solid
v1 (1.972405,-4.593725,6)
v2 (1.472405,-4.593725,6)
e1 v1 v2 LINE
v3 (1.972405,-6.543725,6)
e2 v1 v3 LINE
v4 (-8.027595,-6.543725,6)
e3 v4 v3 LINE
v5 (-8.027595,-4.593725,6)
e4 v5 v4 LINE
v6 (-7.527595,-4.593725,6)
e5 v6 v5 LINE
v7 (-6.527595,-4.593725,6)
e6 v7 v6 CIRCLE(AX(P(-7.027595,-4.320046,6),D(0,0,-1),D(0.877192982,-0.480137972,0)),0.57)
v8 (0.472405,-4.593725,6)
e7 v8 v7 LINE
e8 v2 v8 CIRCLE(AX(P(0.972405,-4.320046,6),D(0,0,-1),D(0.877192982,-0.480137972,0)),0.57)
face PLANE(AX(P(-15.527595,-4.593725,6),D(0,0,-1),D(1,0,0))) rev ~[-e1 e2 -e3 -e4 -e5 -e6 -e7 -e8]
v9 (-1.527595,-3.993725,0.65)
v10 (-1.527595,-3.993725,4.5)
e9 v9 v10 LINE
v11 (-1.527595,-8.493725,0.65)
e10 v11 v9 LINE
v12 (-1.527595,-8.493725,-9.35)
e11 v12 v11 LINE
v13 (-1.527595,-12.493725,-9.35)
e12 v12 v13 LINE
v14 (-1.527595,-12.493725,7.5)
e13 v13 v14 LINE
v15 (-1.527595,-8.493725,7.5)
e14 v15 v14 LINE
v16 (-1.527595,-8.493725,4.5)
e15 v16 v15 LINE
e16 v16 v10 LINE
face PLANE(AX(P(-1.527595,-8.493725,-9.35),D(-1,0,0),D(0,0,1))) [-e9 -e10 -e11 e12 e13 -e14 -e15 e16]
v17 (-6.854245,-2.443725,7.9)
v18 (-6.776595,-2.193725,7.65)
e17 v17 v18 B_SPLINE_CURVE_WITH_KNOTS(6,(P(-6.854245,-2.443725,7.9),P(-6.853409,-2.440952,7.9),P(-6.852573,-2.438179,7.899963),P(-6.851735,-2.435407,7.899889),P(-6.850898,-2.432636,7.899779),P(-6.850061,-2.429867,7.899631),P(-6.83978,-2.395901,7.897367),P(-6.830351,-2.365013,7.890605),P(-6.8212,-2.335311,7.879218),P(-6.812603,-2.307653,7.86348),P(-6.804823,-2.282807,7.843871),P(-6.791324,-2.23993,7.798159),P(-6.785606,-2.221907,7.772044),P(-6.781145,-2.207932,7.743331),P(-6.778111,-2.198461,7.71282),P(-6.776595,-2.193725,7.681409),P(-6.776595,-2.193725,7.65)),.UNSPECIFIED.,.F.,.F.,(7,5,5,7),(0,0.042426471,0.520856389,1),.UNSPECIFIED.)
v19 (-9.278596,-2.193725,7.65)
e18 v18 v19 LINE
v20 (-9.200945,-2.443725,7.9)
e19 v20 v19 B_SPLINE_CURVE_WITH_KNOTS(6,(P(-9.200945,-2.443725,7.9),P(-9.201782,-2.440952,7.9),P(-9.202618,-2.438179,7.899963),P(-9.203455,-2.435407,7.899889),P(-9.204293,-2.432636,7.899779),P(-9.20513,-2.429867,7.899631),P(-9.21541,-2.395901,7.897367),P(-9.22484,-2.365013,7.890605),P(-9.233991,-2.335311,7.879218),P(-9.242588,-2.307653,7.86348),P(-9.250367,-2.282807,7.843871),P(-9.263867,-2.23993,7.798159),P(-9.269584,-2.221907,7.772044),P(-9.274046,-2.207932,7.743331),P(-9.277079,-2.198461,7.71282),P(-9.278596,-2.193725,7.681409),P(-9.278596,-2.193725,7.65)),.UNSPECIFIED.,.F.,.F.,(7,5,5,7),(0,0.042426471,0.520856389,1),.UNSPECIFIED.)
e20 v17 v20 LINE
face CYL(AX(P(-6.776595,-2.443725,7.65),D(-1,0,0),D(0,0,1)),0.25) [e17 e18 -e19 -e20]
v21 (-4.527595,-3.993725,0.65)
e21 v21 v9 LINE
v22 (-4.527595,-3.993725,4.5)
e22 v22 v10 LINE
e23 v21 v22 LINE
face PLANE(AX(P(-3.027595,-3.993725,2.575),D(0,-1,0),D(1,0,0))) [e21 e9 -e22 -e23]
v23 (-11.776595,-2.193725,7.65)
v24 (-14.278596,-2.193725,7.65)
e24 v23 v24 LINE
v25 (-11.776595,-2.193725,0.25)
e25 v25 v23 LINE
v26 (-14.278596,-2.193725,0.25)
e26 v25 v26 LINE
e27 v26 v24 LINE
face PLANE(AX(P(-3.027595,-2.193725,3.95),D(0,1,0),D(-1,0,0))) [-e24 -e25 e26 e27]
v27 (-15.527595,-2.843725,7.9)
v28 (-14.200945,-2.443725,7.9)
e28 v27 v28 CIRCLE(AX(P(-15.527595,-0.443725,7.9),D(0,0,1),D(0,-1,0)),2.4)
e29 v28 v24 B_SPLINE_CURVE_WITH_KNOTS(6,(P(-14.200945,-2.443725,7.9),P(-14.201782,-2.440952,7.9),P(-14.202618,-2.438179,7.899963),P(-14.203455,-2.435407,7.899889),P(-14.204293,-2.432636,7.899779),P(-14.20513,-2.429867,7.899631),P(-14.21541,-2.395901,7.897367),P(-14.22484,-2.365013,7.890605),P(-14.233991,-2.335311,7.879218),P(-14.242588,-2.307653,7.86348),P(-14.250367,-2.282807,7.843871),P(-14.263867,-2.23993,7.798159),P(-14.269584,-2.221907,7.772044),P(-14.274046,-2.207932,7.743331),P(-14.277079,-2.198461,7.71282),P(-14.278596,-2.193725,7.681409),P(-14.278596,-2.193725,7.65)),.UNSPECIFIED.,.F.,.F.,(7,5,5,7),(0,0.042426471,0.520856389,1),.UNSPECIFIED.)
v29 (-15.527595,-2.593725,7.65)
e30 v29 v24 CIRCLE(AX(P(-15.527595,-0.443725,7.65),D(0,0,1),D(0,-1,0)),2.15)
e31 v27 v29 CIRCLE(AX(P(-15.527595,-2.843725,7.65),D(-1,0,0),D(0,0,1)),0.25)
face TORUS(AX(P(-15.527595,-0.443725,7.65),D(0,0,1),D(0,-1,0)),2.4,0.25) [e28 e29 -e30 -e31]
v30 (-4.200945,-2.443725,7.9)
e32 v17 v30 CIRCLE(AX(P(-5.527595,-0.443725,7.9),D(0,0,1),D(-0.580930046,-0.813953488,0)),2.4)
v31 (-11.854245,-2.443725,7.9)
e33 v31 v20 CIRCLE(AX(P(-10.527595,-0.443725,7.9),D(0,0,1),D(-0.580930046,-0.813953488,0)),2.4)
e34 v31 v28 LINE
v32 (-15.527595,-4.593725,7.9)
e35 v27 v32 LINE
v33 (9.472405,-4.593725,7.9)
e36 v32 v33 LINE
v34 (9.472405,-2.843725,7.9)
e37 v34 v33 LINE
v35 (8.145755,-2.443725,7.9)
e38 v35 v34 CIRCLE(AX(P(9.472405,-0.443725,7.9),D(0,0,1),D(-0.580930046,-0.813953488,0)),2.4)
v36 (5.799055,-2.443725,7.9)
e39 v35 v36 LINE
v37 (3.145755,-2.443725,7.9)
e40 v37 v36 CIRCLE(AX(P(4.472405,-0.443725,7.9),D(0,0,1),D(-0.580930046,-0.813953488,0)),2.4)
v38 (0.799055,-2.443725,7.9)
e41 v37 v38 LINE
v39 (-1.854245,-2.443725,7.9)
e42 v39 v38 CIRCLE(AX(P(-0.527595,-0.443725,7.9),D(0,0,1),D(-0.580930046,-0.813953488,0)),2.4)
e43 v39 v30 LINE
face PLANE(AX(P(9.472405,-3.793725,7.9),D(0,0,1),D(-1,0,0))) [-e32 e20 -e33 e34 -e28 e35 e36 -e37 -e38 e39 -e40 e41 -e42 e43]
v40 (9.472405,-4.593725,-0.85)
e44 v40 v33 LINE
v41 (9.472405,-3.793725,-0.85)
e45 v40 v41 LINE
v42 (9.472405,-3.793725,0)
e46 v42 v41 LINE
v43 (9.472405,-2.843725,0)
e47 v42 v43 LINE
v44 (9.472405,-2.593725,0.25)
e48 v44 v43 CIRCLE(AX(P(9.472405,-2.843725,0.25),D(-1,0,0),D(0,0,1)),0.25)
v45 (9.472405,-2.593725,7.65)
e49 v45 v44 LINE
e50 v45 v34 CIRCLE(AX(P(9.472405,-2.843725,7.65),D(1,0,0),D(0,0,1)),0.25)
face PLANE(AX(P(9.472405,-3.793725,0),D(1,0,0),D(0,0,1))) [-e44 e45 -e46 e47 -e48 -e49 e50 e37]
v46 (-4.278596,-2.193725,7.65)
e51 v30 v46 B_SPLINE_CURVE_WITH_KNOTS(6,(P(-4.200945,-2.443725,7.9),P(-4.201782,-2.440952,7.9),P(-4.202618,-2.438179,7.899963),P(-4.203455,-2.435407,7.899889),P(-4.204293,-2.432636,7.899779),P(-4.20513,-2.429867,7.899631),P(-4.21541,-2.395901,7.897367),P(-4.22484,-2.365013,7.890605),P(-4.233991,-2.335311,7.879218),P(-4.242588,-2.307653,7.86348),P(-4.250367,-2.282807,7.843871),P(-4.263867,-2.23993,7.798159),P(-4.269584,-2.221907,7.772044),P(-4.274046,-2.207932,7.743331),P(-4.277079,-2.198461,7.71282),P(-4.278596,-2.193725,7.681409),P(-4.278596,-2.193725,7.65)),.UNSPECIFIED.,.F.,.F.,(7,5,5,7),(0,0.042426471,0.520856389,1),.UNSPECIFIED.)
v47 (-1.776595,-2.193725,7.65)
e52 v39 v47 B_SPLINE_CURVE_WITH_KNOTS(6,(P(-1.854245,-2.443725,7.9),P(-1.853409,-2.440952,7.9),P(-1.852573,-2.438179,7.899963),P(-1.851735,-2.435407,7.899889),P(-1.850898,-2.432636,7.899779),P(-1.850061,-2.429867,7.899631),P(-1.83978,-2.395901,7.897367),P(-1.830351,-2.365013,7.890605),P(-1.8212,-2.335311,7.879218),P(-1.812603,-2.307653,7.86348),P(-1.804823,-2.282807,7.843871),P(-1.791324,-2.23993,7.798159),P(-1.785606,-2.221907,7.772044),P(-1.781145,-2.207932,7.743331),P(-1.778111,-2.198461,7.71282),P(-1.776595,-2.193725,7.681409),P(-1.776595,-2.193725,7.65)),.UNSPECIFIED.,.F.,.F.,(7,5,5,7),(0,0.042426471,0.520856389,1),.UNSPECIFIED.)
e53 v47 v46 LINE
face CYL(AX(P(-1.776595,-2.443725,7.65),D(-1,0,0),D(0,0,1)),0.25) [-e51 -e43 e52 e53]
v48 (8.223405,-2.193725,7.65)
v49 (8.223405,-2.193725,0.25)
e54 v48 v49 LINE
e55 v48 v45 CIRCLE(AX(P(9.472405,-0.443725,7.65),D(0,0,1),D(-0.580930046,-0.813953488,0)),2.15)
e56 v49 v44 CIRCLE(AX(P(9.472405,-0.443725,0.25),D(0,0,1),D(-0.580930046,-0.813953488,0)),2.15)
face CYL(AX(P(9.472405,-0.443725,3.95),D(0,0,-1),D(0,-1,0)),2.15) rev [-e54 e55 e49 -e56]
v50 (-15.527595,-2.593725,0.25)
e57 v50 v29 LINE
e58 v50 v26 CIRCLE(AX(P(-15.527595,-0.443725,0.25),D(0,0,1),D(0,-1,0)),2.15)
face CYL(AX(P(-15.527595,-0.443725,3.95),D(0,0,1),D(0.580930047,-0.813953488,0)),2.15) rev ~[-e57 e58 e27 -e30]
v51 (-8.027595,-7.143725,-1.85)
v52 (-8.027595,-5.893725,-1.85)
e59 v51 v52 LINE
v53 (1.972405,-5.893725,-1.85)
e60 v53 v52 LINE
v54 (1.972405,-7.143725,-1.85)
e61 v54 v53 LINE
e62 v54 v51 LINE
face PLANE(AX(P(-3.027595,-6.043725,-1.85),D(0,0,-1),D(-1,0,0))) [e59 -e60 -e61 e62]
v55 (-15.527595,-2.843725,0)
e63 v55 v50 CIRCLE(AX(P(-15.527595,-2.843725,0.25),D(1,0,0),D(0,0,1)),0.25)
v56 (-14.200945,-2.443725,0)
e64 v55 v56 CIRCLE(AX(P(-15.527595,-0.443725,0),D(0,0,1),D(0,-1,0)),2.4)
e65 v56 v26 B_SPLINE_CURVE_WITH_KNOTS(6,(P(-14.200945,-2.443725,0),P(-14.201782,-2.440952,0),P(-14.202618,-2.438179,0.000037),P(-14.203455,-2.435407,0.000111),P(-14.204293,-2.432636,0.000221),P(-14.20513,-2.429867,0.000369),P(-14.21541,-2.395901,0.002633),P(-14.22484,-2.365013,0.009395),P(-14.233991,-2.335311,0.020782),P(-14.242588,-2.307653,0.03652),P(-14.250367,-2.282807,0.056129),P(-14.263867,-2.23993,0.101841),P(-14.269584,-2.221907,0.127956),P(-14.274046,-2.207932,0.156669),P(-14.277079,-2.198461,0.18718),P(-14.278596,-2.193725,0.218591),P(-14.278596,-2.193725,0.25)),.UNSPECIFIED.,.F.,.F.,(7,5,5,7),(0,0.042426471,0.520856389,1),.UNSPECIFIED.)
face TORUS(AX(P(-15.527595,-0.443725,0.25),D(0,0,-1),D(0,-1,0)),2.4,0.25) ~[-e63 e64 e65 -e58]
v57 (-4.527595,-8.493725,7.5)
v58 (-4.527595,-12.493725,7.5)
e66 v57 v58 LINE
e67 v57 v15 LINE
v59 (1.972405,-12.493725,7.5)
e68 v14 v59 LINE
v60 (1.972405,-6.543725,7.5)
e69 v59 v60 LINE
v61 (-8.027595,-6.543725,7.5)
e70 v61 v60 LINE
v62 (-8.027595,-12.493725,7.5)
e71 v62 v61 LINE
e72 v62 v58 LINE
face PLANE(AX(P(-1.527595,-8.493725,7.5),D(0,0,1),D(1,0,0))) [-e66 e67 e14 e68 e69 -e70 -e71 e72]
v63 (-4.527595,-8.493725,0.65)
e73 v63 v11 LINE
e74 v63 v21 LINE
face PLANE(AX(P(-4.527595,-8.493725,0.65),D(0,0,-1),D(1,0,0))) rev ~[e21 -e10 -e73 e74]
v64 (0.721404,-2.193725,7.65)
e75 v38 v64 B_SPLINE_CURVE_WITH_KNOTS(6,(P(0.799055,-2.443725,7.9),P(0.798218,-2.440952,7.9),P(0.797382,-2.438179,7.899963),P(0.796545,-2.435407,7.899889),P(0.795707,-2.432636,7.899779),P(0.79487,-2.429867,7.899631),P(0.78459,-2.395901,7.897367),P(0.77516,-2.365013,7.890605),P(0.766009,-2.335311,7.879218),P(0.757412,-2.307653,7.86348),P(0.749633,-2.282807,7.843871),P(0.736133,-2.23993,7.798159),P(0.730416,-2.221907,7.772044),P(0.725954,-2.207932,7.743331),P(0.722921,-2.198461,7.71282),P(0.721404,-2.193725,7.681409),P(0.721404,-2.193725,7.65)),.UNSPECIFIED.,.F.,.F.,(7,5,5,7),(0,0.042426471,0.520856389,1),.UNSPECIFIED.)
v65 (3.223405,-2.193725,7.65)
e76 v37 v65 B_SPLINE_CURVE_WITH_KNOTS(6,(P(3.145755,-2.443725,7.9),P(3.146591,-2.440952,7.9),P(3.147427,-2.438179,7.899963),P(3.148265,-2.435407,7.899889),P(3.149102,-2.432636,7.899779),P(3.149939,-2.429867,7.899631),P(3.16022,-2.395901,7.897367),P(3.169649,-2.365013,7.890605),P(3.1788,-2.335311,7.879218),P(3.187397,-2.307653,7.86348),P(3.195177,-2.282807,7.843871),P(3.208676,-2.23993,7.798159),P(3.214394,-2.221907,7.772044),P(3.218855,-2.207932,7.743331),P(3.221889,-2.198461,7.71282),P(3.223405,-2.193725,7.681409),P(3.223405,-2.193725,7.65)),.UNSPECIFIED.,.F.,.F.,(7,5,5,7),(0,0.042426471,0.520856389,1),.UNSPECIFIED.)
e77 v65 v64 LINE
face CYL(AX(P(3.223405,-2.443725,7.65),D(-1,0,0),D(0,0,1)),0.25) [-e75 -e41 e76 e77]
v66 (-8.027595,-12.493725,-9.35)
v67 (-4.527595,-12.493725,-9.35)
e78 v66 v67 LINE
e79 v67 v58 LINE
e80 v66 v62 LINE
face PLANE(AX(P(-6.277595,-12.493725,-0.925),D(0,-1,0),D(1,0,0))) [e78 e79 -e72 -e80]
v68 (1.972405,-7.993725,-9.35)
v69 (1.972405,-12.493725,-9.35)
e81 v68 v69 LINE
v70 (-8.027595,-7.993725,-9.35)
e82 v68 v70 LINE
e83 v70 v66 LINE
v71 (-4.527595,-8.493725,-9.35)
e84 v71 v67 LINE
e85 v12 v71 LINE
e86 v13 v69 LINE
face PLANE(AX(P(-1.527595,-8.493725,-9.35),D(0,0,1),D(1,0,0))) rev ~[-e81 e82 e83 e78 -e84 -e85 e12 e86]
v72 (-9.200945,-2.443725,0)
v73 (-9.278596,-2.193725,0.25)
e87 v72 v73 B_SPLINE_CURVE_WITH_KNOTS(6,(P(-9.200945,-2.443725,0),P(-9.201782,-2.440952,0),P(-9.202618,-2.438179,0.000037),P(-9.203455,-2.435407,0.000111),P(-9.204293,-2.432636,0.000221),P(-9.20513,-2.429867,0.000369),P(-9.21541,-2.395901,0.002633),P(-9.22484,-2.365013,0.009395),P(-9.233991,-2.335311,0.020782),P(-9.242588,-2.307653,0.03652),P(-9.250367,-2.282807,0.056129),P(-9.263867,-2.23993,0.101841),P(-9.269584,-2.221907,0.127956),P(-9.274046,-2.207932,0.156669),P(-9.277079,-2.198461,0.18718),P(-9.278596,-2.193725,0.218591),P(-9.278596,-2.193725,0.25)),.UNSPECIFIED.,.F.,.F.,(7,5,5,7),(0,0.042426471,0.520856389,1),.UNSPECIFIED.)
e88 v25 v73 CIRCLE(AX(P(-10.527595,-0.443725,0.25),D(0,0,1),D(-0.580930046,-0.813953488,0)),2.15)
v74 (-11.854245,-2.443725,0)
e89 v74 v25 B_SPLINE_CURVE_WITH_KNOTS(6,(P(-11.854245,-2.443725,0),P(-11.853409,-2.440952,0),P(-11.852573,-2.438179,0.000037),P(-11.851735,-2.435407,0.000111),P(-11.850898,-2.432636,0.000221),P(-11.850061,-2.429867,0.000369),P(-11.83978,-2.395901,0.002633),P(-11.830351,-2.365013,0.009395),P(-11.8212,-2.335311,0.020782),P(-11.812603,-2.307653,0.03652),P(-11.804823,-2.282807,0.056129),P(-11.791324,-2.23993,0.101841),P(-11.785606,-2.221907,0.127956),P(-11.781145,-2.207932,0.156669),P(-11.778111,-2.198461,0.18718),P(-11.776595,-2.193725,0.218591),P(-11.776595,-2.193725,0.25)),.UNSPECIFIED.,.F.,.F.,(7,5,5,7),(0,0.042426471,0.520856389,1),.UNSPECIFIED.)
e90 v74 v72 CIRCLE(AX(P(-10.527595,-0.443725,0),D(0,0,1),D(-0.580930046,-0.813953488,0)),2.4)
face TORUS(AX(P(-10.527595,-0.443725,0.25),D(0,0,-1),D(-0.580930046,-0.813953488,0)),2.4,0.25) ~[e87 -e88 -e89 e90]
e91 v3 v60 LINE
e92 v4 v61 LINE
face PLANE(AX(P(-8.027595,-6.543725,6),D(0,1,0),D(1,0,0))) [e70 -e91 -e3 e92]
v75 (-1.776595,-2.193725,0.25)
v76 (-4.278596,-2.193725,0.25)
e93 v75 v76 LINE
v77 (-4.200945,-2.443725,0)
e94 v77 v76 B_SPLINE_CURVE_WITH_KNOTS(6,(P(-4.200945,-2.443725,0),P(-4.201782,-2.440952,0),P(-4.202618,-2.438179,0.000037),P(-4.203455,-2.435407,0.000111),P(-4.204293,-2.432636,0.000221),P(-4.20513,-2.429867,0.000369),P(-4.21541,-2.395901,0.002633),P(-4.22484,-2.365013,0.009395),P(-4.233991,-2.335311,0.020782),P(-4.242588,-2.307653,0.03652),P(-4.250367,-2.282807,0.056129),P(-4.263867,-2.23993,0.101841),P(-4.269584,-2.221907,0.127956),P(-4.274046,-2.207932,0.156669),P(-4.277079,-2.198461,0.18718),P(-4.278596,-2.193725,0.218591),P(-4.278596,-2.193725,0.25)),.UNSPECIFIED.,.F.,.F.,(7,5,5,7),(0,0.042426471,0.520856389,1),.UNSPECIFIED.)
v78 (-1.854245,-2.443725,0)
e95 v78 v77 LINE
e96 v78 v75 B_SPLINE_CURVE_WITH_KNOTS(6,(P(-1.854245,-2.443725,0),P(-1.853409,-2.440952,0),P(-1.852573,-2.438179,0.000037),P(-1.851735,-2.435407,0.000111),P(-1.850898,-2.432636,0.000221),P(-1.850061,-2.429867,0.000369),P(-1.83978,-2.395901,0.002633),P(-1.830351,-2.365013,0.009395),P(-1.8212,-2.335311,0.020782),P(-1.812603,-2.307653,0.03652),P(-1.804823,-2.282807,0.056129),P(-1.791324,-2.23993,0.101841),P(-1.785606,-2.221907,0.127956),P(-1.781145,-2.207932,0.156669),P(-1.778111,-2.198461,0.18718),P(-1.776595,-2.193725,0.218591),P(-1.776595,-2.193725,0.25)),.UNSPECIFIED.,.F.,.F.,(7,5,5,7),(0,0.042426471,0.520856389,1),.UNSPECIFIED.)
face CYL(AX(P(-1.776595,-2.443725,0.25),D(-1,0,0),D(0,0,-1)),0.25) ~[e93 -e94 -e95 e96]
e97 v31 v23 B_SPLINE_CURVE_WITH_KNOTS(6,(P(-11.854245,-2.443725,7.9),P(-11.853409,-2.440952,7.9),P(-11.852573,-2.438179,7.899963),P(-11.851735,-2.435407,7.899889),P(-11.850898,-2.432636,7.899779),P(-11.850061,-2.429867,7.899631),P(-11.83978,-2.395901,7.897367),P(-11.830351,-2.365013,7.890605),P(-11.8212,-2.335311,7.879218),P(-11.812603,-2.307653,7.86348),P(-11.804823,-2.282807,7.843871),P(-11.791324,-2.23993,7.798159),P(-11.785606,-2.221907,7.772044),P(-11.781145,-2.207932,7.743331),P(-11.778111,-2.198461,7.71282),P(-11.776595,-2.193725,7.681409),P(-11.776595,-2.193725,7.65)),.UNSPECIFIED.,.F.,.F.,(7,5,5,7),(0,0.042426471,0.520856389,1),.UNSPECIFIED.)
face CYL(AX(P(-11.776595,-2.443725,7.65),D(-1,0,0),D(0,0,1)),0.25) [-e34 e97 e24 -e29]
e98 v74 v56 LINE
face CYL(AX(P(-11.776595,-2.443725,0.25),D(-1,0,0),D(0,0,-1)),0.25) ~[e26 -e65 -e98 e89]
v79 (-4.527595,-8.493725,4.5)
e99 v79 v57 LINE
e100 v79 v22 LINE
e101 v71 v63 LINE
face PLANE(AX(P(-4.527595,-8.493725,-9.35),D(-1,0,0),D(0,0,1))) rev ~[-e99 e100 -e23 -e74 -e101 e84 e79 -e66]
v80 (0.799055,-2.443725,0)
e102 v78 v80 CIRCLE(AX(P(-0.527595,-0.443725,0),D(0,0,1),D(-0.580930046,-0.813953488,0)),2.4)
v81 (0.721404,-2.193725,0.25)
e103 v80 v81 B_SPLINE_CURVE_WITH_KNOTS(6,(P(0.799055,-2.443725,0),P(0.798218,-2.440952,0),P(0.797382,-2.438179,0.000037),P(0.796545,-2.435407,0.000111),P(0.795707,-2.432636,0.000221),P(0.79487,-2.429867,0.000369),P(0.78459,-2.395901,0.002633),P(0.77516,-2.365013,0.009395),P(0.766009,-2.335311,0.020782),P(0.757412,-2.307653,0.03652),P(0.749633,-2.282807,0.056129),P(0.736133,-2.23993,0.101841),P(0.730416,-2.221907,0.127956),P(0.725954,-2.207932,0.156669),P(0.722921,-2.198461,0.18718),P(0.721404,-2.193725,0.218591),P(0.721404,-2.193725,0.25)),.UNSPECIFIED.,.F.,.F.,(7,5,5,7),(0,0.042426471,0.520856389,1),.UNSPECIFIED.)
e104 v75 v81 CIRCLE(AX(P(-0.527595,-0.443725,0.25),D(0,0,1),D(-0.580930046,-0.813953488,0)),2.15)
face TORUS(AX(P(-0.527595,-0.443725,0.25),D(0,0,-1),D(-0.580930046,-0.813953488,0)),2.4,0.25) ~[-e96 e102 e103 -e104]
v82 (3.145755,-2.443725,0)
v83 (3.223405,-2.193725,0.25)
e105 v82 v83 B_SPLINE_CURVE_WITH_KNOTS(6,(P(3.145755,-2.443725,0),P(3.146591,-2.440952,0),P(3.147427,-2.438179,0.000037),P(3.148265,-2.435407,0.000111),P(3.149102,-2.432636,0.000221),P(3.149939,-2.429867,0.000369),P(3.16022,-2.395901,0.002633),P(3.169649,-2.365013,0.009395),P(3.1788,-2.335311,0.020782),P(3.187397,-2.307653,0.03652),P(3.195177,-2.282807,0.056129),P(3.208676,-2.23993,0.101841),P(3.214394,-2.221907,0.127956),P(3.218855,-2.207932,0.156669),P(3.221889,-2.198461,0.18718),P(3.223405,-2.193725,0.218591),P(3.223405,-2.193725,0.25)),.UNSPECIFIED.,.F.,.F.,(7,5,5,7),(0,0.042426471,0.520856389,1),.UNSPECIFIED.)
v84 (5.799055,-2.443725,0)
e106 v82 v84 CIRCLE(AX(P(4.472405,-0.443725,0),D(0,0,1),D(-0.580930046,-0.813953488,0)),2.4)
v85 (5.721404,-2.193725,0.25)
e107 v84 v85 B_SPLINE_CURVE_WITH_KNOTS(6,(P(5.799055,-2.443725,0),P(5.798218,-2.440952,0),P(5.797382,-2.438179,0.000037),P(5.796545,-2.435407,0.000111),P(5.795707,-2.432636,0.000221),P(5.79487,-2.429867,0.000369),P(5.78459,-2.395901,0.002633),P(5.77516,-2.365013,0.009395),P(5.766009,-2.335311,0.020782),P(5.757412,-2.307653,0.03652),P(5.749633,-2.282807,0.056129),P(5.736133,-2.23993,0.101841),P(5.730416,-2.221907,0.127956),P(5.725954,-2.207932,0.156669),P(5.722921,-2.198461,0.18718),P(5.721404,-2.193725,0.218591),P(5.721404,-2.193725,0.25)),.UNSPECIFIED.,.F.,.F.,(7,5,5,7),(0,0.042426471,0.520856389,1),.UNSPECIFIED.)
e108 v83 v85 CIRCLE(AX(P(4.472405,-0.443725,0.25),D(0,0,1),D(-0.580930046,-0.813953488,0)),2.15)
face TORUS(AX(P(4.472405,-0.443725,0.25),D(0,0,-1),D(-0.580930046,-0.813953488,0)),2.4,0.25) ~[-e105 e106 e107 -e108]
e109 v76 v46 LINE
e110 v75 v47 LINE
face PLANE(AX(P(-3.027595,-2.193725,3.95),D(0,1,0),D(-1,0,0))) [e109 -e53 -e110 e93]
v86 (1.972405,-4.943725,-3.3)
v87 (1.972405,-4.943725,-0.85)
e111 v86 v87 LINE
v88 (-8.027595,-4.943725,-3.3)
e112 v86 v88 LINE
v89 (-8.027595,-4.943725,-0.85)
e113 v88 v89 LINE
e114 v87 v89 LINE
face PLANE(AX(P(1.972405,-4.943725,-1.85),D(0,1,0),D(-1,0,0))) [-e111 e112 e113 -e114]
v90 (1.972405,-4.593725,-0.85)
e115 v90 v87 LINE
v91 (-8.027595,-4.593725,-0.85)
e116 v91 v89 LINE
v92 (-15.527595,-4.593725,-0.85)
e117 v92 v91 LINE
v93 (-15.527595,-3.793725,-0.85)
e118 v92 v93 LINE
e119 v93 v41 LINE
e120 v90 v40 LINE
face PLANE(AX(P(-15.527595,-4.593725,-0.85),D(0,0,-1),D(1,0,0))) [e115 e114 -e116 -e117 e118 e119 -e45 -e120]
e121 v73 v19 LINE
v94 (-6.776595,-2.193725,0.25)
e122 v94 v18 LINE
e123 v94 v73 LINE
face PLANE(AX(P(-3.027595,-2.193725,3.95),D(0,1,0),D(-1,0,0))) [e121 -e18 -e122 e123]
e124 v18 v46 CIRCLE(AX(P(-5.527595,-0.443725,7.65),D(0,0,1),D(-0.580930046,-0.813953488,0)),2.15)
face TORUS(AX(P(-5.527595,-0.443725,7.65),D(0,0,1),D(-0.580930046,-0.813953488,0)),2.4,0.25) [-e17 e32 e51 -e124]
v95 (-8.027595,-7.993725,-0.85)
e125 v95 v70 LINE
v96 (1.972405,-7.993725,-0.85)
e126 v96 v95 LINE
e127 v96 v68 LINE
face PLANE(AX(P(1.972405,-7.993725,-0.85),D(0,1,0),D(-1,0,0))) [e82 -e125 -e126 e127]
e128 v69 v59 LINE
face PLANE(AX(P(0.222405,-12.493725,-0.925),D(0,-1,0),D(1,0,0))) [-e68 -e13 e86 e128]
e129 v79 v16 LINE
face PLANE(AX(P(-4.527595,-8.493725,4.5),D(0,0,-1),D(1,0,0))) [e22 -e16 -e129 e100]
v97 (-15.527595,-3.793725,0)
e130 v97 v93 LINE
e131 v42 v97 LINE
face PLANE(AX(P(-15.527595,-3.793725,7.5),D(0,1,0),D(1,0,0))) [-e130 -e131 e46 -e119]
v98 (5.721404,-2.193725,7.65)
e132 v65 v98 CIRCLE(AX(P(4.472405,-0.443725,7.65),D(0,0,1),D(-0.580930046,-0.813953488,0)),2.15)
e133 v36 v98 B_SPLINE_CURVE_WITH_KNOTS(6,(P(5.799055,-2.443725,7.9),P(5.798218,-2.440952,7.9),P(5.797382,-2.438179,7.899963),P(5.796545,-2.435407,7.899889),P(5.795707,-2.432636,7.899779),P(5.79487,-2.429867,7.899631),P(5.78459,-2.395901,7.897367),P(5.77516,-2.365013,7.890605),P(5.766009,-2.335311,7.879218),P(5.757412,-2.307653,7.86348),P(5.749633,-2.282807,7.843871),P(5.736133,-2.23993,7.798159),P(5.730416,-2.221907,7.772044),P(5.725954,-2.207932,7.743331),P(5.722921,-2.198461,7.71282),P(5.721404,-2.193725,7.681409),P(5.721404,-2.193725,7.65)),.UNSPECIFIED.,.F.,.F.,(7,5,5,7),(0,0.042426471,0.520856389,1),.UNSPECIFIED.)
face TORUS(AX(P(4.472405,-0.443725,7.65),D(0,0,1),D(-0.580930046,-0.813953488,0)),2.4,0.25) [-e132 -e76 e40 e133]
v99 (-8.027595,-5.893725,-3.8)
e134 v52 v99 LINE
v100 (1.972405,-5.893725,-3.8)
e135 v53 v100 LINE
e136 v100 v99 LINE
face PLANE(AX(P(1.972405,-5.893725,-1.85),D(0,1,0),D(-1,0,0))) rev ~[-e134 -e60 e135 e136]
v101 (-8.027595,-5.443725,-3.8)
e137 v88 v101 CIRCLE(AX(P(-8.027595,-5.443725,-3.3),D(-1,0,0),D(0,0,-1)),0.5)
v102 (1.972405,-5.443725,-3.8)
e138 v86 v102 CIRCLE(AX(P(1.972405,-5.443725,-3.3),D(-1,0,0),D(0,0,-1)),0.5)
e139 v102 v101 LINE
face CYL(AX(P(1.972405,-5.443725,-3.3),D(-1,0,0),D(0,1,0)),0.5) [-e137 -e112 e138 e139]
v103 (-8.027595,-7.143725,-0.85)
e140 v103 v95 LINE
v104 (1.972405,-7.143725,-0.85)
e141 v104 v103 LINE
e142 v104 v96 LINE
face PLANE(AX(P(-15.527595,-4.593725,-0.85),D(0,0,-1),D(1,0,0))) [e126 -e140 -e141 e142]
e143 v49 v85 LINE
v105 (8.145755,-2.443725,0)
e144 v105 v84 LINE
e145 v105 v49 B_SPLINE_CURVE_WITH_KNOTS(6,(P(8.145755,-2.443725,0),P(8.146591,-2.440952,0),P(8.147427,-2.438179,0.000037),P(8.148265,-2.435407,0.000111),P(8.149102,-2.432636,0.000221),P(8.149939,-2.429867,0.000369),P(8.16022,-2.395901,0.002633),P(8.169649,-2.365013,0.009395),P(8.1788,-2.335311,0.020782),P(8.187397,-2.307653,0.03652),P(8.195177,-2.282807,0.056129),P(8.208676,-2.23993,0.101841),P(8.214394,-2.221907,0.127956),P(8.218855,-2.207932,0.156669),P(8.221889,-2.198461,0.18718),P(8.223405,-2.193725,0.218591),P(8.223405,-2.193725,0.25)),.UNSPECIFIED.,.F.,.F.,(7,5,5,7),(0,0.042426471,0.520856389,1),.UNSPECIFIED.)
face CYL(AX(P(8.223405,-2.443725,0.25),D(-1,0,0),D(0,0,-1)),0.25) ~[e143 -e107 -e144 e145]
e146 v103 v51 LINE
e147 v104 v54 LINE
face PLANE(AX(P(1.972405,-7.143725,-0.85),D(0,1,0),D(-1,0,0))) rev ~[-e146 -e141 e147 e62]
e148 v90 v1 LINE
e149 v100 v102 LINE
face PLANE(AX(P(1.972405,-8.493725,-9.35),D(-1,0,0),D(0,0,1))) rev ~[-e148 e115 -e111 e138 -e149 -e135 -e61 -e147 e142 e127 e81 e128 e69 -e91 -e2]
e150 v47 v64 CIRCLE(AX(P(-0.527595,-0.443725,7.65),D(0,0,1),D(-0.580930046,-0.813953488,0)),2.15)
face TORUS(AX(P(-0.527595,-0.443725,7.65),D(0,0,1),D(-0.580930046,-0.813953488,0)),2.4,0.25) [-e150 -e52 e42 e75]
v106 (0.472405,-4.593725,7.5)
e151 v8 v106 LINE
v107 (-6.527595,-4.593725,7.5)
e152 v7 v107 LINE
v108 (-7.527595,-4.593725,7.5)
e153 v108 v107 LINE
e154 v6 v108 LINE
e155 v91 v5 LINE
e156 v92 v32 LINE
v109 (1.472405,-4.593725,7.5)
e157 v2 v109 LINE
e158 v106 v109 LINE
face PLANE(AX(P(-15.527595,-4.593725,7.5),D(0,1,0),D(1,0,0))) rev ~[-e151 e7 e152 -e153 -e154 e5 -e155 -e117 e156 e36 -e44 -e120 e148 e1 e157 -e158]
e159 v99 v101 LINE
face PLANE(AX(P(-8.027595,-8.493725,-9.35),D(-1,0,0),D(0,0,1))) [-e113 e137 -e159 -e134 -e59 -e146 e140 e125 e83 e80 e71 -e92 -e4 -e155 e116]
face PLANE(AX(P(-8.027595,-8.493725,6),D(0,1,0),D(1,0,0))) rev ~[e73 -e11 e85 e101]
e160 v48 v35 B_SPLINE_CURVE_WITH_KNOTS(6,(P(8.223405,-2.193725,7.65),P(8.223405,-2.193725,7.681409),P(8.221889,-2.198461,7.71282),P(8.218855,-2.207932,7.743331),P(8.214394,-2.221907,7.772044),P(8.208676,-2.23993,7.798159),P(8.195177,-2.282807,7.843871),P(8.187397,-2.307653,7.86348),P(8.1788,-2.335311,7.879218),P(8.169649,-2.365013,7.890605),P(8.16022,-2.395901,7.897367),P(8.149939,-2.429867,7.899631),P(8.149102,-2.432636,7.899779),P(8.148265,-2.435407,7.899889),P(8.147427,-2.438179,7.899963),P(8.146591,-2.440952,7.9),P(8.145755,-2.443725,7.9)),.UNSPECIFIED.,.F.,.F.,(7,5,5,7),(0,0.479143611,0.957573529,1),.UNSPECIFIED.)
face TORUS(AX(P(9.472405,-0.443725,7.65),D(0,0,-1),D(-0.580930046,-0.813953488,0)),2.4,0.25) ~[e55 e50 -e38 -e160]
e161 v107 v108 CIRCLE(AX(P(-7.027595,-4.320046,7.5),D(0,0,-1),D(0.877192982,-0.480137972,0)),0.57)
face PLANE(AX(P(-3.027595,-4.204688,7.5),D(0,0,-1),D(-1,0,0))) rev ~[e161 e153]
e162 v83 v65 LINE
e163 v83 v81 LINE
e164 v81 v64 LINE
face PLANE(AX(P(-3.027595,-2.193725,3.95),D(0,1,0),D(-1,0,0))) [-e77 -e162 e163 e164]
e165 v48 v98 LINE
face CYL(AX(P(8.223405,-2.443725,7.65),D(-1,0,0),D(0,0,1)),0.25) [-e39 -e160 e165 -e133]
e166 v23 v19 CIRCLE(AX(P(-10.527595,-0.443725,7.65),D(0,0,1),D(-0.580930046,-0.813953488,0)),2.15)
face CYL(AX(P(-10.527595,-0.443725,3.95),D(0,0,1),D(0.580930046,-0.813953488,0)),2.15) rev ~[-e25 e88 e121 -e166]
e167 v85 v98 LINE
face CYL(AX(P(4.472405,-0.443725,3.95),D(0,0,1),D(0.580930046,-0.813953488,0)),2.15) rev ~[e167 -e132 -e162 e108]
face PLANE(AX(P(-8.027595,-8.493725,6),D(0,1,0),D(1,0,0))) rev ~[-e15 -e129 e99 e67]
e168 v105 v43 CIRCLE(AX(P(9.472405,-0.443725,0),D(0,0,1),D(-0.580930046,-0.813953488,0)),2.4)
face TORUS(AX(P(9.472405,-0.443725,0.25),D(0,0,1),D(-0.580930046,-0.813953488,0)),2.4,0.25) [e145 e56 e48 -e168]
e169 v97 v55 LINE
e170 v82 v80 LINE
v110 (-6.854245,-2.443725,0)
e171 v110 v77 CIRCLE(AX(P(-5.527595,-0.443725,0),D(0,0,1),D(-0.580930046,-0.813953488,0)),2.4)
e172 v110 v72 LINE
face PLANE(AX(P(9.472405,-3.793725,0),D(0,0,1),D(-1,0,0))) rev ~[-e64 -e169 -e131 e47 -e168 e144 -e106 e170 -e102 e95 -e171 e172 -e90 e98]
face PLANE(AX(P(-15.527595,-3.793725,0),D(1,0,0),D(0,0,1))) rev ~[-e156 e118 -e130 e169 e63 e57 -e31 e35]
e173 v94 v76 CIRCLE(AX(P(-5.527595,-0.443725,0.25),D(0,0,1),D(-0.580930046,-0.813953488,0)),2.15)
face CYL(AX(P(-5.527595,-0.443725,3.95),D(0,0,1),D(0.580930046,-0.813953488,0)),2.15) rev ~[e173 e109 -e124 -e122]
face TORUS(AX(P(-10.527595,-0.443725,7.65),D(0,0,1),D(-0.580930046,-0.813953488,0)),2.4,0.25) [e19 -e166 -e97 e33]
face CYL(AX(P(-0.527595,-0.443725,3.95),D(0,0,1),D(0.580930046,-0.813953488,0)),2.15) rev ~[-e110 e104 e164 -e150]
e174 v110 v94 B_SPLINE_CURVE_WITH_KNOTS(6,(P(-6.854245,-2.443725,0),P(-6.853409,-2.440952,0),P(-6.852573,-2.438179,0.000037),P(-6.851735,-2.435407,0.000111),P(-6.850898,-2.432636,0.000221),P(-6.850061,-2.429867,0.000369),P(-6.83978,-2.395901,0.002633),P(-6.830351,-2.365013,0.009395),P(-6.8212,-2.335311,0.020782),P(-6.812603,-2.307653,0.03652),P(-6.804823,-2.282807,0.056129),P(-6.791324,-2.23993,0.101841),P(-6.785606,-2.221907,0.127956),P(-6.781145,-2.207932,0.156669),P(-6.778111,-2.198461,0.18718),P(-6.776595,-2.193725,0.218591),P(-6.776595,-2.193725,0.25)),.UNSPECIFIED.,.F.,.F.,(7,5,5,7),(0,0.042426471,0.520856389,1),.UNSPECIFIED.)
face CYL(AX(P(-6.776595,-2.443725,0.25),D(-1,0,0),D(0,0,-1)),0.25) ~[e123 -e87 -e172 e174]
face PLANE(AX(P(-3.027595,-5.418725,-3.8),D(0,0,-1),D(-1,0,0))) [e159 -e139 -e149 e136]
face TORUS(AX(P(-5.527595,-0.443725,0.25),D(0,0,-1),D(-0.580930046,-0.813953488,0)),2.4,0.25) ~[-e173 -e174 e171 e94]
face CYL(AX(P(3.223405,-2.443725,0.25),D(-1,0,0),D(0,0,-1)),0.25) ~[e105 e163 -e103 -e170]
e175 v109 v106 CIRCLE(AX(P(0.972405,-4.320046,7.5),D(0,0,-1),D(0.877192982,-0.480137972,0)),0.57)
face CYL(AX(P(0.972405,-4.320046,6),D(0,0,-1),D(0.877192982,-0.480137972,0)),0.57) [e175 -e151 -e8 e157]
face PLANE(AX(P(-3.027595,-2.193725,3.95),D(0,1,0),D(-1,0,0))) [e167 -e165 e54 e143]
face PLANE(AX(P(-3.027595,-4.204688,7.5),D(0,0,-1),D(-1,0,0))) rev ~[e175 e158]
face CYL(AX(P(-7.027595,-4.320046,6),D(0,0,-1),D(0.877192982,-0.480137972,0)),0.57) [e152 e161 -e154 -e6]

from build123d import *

# Parameters (mm, degrees)
SKETCH1_W            = 25
SKETCH1_H            = 6.85
BOSS_EXTRUDE1_DEPTH  = 0.8
SKETCH2_W            = 10
SKETCH2_H            = 6.85
BOSS_EXTRUDE2_DEPTH  = 3.9
SKETCH3_W            = 3
SKETCH3_H            = 3.85
CUT_EXTRUDE1_DEPTH   = 4.5
BOSS_EXTRUDE3_DEPTH  = 1.5
SKETCH5_W            = 10
SKETCH5_H            = 2.2
BOSS_EXTRUDE4_DEPTH  = 1
SKETCH6_W            = 25
SKETCH6_H            = 0.8
BOSS_EXTRUDE5_DEPTH  = 0.4
SKETCH7_W            = 25
SKETCH7_H            = 7.9
BOSS_EXTRUDE6_DEPTH  = 1.6
SKETCH8_W            = 10
SKETCH8_H            = 0.95
BOSS_EXTRUDE7_DEPTH  = 1.95
SKETCH9_W            = 10
SKETCH9_H            = 0.5
BOSS_EXTRUDE8_DEPTH  = 8.5
SKETCH10_W           = 10
SKETCH10_H           = 1.95
BOSS_EXTRUDE9_DEPTH  = 1.5
SKETCH11_W           = 3.5
SKETCH11_H           = 16.85
BOSS_EXTRUDE10_DEPTH = 4
SKETCH12_W           = 3.5
SKETCH12_H           = 16.85
BOSS_EXTRUDE11_DEPTH = 4
SKETCH13_W           = 2.15
SKETCH13_H           = 7.9
SKETCH14_W           = 7.9
SKETCH14_H           = 2.15
SKETCH15_W           = 2.15
SKETCH15_H           = 7.9
LPATTERN1_COUNT      = 4
LPATTERN1_PITCH      = 5
FILLET1_R            = 0.5
FILLET2_R            = 0.25
FILLET3_R            = 0.25


with BuildPart() as part:
    # Sketch1 → Boss-Extrude1 (new body)
    with BuildSketch(Plane.XZ.offset(4.593725132)):
        with Locations((-3.027595366, 2.575)):
            Rectangle(SKETCH1_W, SKETCH1_H)
    extrude(amount=-BOSS_EXTRUDE1_DEPTH)

    # Sketch2 → Boss-Extrude2 (add)
    with BuildSketch(Plane.XZ.offset(4.593725132)):
        with Locations((-3.027595366, 2.575)):
            Rectangle(SKETCH2_W, SKETCH2_H)
    extrude(amount=BOSS_EXTRUDE2_DEPTH)

    # Sketch3 → Cut-Extrude1 (cut)
    with BuildSketch(Plane.XZ.offset(8.493725132)):
        with Locations((-3.027595366, 2.575)):
            Rectangle(SKETCH3_W, SKETCH3_H)
    extrude(amount=-CUT_EXTRUDE1_DEPTH, mode=Mode.SUBTRACT)

    # Sketch4 → Boss-Extrude3 (add)
    with BuildSketch(Plane.XY.offset(6)):
        with BuildLine():
            Line((0.472404634, -4.593725132), (-6.527595366, -4.593725132))
            ThreePointArc((-6.527595366, -4.593725132), (-7.027595366, -4.890046488), (-7.527595366, -4.593725132))
            Line((-7.527595366, -4.593725132), (-15.527595366, -4.593725132))
            Line((-15.527595366, -4.593725132), (-15.527595366, -3.793725132))
            Line((-15.527595366, -3.793725132), (9.472404634, -3.793725132))
            Line((9.472404634, -3.793725132), (9.472404634, -4.593725132))
            Line((9.472404634, -4.593725132), (1.472404634, -4.593725132))
            ThreePointArc((1.472404634, -4.593725132), (0.972404634, -4.890046488), (0.472404634, -4.593725132))
        make_face()
    extrude(amount=BOSS_EXTRUDE3_DEPTH)

    # Sketch5 → Boss-Extrude4 (add)
    with BuildSketch(Plane(origin=(0, 0, -0.85), x_dir=(-1, 0, 0), z_dir=(0, 0, -1))):
        with Locations((3.027595366, -6.043725132)):
            Rectangle(SKETCH5_W, SKETCH5_H)
    extrude(amount=BOSS_EXTRUDE4_DEPTH)

    # Sketch6 → Boss-Extrude5 (add)
    with BuildSketch(Plane.XY.offset(7.5)):
        with Locations((-3.027595366, -4.193725132)):
            Rectangle(SKETCH6_W, SKETCH6_H)
    extrude(amount=BOSS_EXTRUDE5_DEPTH)

    # Sketch7 → Boss-Extrude6 (add)
    with BuildSketch(Plane(origin=(0, -3.793725132, 0), x_dir=(-1, 0, 0), z_dir=(0, 1, 0))):
        with Locations((3.027595366, 3.95)):
            Rectangle(SKETCH7_W, SKETCH7_H)
    extrude(amount=BOSS_EXTRUDE6_DEPTH)

    # Sketch8 → Boss-Extrude7 (add)
    with BuildSketch(Plane(origin=(0, 0, -1.85), x_dir=(-1, 0, 0), z_dir=(0, 0, -1))):
        with Locations((3.027595366, -5.418725132)):
            Rectangle(SKETCH8_W, SKETCH8_H)
    extrude(amount=BOSS_EXTRUDE7_DEPTH)

    # Sketch9 → Boss-Extrude8 (add)
    with BuildSketch(Plane(origin=(0, 0, -0.85), x_dir=(-1, 0, 0), z_dir=(0, 0, -1))):
        with Locations((3.027595366, -8.243725132)):
            Rectangle(SKETCH9_W, SKETCH9_H)
    extrude(amount=BOSS_EXTRUDE8_DEPTH)

    # Sketch10 → Boss-Extrude9 (add)
    with BuildSketch(Plane.XY.offset(6)):
        with Locations((-3.027595366, -7.518725132)):
            Rectangle(SKETCH10_W, SKETCH10_H)
    extrude(amount=BOSS_EXTRUDE9_DEPTH)

    # Sketch11 → Boss-Extrude10 (add)
    with BuildSketch(Plane.XZ.offset(8.493725132)):
        with Locations((-6.277595366, -0.925)):
            Rectangle(SKETCH11_W, SKETCH11_H)
    extrude(amount=BOSS_EXTRUDE10_DEPTH)

    # Sketch12 → Boss-Extrude11 (add)
    with BuildSketch(Plane.XZ.offset(8.493725132)):
        with Locations((0.222404634, -0.925)):
            Rectangle(SKETCH12_W, SKETCH12_H)
    extrude(amount=BOSS_EXTRUDE11_DEPTH)

    # Sketch13 → Cut-Revolve1 (revolve, cut)
    with BuildSketch(Plane(origin=(-10.497162294, -7.491972288, 0), x_dir=(-0.5809300463626401, 0.8139534883720941, 0), z_dir=(0.8139534883720941, 0.5809300463626401, 0))):
        with Locations((7.584275077, 3.95)):
            Rectangle(SKETCH13_W, SKETCH13_H)
    revolve(axis=Axis((-15.527595366, -0.443725132, 0), (0, 0, 1)), mode=Mode.SUBTRACT)

    # Sketch14 → Cut-Revolve2 (revolve, cut)
    with BuildSketch(Plane(origin=(9.472404634, 0, 0), x_dir=(0, 0, -1), z_dir=(1, 0, 0))):
        with Locations((-3.95, -1.518725132)):
            Rectangle(SKETCH14_W, SKETCH14_H)
    revolve(axis=Axis((9.472404634, -0.443725132, 0), (0, 0, 1)), mode=Mode.SUBTRACT)

    # Sketch15 → Cut-Revolve3 (revolve, cut)
    with BuildSketch(Plane(origin=(-7.184560888, -5.127722099, 0), x_dir=(-0.5809300463626401, 0.8139534883720941, 0), z_dir=(0.8139534883720941, 0.5809300463626401, 0))):
        with Locations((4.679624845, 3.95)):
            Rectangle(SKETCH15_W, SKETCH15_H)
    cut_revolve3 = revolve(axis=Axis((-10.527595366, -0.443725132, 0), (0, 0, 1)), mode=Mode.SUBTRACT)

    # LPattern1: Cut-Revolve3 ×4
    with Locations(*[(i * LPATTERN1_PITCH, 0, 0) for i in range(1, LPATTERN1_COUNT)]):
        add(cut_revolve3, mode=Mode.SUBTRACT)

    # Fillet1
    fillet1_edges = [part.edges().sort_by_distance(p)[0] for p in [
        (-3.027595366, -4.943725132, -3.8),
    ]]
    fillet(fillet1_edges, radius=FILLET1_R)

    # Fillet2
    fillet2_edges = [part.edges().sort_by_distance(p)[0] for p in [
        (-14.871851514, -2.491284655, 0),
        (-13.027595366, -2.193725132, 0),
        (-10.527595366, -2.593725132, 0),
        (-8.027595366, -2.193725132, 0),
        (-5.527595366, -2.593725132, 0),
        (-3.027595366, -2.193725132, 0),
        (-0.527595366, -2.593725132, 0),
        (8.816660781, -2.491284655, 0),
        (1.972404634, -2.193725132, 0),
        (6.972404634, -2.193725132, 0),
        (4.472404634, -2.593725132, 0),
    ]]
    fillet(fillet2_edges, radius=FILLET2_R)

    # Fillet3
    fillet3_edges = [part.edges().sort_by_distance(p)[0] for p in [
        (8.816660781, -2.491284655, 7.9),
        (6.972404634, -2.193725132, 7.9),
        (4.472404634, -2.593725132, 7.9),
        (-14.871851514, -2.491284655, 7.9),
        (1.972404634, -2.193725132, 7.9),
        (-13.027595366, -2.193725132, 7.9),
        (-0.527595366, -2.593725132, 7.9),
        (-10.527595366, -2.593725132, 7.9),
        (-3.027595366, -2.193725132, 7.9),
        (-8.027595366, -2.193725132, 7.9),
        (-5.527595366, -2.593725132, 7.9),
    ]]
    fillet(fillet3_edges, radius=FILLET3_R)


solid = part.part
